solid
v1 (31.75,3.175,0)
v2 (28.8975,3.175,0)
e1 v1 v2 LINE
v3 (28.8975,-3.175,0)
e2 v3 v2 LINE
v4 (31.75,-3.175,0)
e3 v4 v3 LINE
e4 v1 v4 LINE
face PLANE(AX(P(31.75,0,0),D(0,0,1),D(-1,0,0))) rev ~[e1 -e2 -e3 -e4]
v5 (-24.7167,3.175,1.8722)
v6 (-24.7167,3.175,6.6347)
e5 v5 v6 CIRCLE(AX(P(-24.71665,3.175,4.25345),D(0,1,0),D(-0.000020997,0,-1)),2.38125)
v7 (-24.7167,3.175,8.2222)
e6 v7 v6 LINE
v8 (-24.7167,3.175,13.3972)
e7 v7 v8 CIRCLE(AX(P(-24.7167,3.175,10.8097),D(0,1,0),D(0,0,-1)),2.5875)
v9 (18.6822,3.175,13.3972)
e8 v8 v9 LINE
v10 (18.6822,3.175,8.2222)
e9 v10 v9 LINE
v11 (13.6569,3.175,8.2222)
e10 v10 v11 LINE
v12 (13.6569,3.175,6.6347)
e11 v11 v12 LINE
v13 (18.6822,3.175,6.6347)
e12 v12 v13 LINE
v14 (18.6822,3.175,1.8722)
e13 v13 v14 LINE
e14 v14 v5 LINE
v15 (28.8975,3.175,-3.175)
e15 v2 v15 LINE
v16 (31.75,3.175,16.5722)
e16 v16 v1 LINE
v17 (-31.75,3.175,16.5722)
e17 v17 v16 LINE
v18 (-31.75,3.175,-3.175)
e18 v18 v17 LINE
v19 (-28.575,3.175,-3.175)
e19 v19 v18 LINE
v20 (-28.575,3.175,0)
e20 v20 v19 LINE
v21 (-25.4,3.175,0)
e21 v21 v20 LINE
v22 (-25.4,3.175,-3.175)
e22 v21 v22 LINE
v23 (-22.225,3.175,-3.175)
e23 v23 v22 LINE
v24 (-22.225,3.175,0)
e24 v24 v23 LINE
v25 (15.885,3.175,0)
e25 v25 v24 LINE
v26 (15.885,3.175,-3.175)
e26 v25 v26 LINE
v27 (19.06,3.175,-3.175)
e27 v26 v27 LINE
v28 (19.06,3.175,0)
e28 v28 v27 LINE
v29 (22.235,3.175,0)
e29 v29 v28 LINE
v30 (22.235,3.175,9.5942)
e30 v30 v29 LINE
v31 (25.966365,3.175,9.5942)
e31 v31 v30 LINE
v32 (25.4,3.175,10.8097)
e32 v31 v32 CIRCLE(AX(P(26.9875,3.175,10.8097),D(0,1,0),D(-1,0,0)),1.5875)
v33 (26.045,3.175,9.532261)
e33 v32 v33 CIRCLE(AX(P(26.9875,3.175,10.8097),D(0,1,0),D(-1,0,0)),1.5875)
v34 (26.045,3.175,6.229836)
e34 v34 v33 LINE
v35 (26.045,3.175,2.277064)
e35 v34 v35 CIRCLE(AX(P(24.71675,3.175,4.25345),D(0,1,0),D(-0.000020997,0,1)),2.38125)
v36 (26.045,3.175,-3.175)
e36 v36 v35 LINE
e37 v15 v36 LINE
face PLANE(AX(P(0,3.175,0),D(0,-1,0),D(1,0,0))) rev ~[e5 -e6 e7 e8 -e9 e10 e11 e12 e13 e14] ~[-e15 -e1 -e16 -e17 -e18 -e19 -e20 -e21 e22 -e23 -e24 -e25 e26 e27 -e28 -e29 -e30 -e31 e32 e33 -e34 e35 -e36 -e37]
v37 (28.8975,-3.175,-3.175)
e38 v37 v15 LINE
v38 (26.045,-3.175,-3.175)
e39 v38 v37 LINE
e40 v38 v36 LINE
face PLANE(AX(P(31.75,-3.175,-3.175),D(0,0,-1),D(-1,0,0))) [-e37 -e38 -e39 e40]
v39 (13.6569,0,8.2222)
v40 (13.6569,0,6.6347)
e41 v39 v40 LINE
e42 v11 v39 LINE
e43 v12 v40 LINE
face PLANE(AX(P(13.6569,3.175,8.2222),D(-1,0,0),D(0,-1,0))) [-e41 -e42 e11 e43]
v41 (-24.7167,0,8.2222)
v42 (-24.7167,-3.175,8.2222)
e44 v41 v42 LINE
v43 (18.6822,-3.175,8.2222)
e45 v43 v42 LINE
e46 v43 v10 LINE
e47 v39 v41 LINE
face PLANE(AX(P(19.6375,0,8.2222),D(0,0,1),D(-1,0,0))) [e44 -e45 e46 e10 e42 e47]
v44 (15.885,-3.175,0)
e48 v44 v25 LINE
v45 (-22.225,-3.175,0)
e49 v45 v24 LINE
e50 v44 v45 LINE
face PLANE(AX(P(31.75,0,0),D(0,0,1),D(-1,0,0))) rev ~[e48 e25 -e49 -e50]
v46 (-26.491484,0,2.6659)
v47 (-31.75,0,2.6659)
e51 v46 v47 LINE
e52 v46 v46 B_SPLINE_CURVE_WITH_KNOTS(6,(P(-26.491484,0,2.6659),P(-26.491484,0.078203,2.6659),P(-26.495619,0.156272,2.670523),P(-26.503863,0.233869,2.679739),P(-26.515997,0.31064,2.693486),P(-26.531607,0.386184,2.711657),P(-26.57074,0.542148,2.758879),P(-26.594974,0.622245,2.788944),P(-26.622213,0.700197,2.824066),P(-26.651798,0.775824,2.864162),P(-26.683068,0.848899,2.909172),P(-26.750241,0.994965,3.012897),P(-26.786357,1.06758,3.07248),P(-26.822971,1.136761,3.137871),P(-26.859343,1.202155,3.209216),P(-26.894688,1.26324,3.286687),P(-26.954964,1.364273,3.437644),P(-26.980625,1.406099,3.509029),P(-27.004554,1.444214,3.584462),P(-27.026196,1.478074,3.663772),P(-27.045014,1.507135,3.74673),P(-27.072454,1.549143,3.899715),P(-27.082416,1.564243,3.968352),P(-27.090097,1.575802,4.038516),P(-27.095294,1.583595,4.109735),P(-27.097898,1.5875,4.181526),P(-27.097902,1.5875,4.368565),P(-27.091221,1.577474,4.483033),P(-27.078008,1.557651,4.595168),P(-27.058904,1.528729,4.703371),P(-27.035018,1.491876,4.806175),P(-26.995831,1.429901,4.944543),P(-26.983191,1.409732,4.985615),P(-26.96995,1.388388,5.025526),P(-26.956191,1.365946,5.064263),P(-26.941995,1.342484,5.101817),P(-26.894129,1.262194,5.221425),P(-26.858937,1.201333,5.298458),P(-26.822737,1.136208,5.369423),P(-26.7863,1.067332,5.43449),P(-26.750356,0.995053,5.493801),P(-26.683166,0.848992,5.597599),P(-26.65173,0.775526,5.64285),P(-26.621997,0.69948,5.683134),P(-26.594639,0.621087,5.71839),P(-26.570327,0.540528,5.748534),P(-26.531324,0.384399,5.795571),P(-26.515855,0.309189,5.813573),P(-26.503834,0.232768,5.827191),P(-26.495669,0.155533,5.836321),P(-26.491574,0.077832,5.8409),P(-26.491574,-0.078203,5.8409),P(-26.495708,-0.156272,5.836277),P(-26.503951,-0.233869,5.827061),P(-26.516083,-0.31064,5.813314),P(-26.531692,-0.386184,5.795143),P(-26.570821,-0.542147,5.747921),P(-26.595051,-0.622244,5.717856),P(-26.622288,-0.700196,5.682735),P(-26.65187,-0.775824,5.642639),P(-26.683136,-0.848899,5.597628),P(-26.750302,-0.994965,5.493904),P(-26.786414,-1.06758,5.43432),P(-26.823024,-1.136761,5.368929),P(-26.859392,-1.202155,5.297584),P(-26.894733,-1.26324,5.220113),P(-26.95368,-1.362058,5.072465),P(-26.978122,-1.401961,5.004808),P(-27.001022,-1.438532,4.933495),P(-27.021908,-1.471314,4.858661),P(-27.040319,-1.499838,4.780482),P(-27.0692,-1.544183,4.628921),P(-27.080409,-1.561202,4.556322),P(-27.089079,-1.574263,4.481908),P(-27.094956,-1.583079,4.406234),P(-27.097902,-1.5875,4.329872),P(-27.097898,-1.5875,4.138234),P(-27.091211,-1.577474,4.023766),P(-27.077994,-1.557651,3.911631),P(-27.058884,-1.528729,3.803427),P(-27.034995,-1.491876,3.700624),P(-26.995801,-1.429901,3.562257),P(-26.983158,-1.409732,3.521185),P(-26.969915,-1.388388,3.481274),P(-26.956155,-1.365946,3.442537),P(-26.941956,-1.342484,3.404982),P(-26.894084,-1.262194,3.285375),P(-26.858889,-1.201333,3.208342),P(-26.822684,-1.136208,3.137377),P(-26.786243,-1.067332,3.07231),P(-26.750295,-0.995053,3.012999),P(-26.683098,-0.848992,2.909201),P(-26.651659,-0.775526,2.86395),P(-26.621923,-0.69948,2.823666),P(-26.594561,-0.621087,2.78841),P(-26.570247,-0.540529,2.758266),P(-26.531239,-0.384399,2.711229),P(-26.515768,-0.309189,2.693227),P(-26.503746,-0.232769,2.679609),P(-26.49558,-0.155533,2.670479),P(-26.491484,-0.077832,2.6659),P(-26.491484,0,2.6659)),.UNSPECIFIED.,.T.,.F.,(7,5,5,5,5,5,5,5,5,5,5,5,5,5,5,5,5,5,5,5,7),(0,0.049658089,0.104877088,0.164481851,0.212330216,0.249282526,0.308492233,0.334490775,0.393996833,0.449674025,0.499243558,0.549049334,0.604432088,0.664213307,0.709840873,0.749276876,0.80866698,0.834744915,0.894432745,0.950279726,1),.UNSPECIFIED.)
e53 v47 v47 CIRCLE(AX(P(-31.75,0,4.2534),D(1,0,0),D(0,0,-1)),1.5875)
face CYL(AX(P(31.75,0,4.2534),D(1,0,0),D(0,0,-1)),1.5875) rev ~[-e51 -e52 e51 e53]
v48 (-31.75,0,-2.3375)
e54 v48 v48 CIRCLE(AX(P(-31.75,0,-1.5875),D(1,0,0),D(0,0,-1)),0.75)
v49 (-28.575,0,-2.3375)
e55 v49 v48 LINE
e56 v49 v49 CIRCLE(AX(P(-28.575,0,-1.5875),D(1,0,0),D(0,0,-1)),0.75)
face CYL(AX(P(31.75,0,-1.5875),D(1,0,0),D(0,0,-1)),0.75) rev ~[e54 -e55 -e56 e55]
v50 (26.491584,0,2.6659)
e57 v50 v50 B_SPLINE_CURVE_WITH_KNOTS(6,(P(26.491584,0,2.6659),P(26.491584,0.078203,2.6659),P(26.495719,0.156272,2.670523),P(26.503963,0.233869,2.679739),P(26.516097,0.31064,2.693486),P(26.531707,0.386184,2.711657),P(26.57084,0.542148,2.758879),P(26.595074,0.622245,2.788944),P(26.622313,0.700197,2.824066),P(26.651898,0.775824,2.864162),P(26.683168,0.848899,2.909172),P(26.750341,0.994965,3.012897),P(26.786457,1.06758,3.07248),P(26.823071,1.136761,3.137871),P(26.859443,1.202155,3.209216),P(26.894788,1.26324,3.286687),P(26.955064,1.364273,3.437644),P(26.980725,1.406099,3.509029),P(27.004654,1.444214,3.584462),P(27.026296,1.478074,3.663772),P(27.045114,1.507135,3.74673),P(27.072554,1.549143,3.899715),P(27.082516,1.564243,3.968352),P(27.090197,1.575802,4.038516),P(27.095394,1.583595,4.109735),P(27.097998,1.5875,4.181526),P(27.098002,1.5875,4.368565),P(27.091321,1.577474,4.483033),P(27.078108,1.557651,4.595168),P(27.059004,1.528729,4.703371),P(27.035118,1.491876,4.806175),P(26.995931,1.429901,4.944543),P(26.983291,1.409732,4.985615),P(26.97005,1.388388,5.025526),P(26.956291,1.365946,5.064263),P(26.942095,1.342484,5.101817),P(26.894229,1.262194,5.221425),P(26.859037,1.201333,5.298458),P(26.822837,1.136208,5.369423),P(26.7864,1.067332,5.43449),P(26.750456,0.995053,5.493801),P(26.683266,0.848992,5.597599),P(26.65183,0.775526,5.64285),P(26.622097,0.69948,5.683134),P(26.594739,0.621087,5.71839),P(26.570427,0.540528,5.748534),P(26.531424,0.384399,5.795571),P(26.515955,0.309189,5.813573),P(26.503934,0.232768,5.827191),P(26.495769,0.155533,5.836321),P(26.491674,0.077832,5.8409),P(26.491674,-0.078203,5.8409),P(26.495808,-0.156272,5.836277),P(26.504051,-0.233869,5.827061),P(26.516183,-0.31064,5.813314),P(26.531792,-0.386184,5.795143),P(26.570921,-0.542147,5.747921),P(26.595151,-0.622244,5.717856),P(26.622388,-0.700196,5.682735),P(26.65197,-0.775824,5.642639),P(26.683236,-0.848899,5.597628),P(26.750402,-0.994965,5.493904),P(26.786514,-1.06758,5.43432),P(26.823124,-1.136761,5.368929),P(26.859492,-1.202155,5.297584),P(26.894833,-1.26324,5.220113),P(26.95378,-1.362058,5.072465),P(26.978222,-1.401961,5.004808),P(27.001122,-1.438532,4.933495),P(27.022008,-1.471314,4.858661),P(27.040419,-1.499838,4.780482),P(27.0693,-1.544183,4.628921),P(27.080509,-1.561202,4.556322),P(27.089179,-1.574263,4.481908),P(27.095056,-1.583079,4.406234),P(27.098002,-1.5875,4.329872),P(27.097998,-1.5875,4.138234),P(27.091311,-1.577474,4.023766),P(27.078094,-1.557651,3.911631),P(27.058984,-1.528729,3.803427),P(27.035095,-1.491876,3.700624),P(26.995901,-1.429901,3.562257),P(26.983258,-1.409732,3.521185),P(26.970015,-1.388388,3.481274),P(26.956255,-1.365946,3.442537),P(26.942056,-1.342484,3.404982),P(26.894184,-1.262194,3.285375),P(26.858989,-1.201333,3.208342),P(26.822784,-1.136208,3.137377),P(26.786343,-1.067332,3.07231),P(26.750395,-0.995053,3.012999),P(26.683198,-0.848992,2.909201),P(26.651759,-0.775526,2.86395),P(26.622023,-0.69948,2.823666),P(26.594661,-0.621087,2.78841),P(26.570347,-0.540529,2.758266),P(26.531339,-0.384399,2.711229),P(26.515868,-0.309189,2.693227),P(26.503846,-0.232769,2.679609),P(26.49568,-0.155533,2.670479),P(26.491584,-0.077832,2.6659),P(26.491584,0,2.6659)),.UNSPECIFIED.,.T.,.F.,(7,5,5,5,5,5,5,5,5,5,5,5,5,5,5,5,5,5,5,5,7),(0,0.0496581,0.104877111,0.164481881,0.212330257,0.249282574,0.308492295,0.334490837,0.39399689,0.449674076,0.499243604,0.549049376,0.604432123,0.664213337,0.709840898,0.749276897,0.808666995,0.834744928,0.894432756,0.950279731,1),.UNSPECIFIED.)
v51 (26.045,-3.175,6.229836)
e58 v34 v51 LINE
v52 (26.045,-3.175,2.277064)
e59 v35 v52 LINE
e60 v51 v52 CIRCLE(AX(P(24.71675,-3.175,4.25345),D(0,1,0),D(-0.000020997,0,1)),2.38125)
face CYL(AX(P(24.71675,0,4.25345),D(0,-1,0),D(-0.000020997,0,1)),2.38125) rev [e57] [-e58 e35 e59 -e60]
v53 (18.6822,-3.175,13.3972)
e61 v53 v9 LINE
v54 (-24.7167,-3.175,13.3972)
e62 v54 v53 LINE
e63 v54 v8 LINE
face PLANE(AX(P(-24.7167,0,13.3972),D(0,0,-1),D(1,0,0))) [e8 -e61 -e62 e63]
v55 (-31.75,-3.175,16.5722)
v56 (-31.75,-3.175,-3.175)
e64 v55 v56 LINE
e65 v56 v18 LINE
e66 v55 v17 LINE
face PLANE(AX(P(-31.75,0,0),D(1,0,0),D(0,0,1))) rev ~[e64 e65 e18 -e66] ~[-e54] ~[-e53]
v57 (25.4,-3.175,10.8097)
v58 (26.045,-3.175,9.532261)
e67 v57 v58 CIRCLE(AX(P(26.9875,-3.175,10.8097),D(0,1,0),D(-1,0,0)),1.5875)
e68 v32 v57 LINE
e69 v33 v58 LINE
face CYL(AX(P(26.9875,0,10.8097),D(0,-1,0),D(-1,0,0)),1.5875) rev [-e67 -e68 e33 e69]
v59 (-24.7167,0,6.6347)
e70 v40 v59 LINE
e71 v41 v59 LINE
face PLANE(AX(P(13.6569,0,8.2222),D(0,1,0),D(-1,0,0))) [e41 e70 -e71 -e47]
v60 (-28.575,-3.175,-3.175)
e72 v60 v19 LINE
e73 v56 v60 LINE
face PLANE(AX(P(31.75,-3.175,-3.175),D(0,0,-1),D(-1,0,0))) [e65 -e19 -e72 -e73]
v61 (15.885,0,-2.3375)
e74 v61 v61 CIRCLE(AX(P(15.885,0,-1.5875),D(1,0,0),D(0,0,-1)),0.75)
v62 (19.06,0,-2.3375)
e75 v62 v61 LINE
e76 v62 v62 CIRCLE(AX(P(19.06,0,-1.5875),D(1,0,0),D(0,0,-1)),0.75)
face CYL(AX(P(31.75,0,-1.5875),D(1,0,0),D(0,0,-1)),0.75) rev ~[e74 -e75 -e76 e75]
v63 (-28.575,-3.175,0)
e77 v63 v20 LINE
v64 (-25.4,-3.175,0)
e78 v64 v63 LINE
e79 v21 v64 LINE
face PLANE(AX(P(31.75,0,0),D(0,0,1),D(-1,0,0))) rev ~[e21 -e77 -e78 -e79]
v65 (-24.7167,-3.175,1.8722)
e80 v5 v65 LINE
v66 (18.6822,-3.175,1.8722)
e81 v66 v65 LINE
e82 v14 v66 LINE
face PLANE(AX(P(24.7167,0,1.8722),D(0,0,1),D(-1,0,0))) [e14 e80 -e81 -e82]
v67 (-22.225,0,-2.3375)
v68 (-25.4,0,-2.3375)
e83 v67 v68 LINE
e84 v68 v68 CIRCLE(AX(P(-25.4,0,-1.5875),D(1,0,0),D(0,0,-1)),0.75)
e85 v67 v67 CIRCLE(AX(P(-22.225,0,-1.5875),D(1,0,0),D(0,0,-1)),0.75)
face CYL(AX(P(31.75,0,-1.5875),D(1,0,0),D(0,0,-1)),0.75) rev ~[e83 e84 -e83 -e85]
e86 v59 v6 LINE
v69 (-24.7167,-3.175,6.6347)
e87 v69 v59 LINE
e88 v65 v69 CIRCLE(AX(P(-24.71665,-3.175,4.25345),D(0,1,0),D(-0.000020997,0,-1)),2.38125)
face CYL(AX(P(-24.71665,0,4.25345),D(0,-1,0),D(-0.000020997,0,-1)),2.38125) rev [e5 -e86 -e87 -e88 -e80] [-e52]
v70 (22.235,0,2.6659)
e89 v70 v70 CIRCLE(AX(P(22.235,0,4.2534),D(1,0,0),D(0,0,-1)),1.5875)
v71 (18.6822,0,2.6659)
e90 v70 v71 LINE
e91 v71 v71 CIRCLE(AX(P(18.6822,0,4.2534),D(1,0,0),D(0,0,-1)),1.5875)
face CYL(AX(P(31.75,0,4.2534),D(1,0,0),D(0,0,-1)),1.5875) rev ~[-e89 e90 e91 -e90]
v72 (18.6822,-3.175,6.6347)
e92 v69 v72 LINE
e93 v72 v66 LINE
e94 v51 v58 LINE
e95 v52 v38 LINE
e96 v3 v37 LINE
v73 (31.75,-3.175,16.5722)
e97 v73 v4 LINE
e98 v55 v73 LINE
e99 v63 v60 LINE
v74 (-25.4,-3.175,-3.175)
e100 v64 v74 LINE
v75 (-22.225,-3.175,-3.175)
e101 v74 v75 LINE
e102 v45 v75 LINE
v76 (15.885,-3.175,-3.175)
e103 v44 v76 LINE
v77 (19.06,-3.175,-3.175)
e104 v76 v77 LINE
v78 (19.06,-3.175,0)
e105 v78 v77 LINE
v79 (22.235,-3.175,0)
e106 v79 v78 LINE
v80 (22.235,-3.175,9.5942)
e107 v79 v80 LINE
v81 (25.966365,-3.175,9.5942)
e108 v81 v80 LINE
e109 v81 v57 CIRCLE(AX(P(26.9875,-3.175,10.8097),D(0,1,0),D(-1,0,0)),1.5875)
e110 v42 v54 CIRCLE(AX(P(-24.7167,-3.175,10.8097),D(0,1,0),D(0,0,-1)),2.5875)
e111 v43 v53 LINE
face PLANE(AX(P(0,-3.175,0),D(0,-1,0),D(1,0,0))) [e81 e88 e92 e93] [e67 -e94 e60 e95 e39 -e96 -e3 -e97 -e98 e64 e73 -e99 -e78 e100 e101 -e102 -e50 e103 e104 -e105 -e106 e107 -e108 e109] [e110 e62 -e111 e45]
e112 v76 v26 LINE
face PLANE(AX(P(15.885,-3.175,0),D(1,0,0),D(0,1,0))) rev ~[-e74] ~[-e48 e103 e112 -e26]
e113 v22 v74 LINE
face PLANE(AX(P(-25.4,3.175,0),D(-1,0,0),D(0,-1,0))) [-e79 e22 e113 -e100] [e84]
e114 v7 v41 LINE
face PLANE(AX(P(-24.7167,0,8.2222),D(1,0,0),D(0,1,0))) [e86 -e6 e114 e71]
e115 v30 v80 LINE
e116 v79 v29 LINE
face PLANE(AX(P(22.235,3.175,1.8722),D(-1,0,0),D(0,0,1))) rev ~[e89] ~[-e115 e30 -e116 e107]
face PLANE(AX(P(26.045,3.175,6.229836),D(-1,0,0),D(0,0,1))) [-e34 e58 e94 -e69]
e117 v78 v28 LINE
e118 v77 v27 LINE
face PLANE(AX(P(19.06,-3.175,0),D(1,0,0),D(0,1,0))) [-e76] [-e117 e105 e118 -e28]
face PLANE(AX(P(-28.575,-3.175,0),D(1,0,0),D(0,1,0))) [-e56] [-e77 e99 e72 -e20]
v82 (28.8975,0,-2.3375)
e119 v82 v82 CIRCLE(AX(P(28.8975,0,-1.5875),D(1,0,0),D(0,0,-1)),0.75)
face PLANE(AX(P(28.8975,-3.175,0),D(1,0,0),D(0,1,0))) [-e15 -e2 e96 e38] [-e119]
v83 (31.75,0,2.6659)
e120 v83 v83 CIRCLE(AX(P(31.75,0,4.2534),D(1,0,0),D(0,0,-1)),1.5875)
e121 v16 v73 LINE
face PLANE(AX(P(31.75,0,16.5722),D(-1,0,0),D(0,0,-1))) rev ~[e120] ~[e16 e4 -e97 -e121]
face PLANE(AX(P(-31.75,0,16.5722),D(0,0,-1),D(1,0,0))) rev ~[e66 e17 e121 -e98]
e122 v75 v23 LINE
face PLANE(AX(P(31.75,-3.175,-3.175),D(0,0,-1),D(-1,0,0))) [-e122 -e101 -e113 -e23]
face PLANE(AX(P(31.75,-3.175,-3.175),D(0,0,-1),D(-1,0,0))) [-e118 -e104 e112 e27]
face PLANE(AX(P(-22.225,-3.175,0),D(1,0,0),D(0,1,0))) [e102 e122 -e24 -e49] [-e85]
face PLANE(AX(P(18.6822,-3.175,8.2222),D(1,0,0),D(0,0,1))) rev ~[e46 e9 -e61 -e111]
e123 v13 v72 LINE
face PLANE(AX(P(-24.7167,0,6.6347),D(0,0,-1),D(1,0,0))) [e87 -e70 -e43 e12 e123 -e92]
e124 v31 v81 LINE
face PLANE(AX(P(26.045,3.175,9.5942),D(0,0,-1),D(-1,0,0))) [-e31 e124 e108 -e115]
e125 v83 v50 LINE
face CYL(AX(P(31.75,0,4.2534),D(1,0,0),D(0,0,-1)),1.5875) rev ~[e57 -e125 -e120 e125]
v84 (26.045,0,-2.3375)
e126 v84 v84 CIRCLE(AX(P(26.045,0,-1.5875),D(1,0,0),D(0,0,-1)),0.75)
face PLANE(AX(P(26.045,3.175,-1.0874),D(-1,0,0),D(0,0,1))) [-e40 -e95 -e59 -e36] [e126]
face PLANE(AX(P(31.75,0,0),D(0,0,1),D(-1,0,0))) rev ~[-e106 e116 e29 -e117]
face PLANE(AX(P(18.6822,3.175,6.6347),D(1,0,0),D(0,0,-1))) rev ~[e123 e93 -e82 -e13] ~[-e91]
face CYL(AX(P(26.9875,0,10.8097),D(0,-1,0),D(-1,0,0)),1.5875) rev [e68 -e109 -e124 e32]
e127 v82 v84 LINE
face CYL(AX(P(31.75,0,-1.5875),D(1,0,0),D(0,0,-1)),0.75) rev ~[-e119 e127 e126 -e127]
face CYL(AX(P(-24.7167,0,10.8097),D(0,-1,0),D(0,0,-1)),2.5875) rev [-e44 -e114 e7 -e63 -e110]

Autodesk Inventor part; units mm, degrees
ref_plane "YZ Plane" through (0, 0, 0) normal (1, 0, 0) x (0, 1, 0)
ref_plane "XZ Plane" through (0, 0, 0) normal (0, 1, 0) x (-1, 0, 0)
ref_plane "XY Plane" through (0, 0, 0) normal (0, 0, 1) x (1, 0, 0)
sketch "Sketch1" plane through (0, 0, 0) normal (0, 1, 0) x (-1, 0, 0)
  line L0 (31.75, -3.048) -> (-31.75, -3.048)
  line L1 (-31.75, -3.048) -> (-31.75, 0)
  line L2 (-31.75, 0) -> (31.75, 0)
  line L3 (31.75, 0) -> (31.75, -3.048)
  line L4 (-31.75, 0) -> (31.75, 0)
  line L5 (31.75, 0) -> (31.75, 16.5722)
  line L6 (31.75, 16.5722) -> (-31.75, 16.5722)
  line L7 (-31.75, 16.5722) -> (-31.75, 0)
  line L8 (24.7167, 10.8097) -> (-19.6375, 10.8097) construction
  line L9 (24.7167, 13.3972) -> (-19.6375, 13.3972)
  line L10 (-19.6375, 8.2222) -> (24.7167, 8.2222)
  arc A0 (24.7167, 8.2222) -> (24.7167, 13.3972) centre (24.7167, 10.8097) ccw
  arc A1 (-19.6375, 13.3972) -> (-19.6375, 8.2222) centre (-19.6375, 10.8097) ccw
  line L11 (24.7167, 4.2534) -> (-24.7167, 4.2534) construction
  line L12 (24.7167, 6.6347) -> (-24.7167, 6.6347)
  line L13 (-24.7167, 1.8722) -> (24.7167, 1.8722)
  arc A2 (24.7167, 1.8722) -> (24.7167, 6.6347) centre (24.7167, 4.2534) ccw
  arc A3 (-24.7167, 6.6347) -> (-24.7167, 1.8722) centre (-24.7167, 4.2534) ccw
  line L14 (0, 0) -> (0, 22.7513) construction
  circle A4 centre (-26.9875, 10.8097) radius 1.5875
  point P0 (0, 4.2534)
  dimension "d5" = 49.4334
  dimension "d6" = 5.175
  dimension "d7" = 4.7625
  dimension "d8" = 4.2534
  dimension "d23" = 7.0333
  dimension "d24" = 3.175
  dimension "d25" = 3.175
  dimension "d26" = 3.175
  dimension "d27" = 1.5875
  dimension "d28" = 3.175
extrude "Extrusion1" add sketch "Sketch1" along normal mid plane 6.35 contours L2 L7 L6 L5
sketch "Sketch3" plane through (0, 3.175, 0) normal (0, 1, 0) x (1, 0, 0)
  arc A0 (24.7167, -6.6347) -> (24.7167, -1.8722) centre (24.7167, -4.2534) ccw projected
  line L0 (24.7167, -4.2534) -> (4.7773, -4.2534) construction
  line L1 (26.045, -9.5942) -> (22.235, -9.5942)
  line L2 (22.235, -9.5942) -> (22.235, 1.0874)
  line L3 (22.235, 1.0874) -> (26.045, 1.0874)
  line L4 (26.045, 1.0874) -> (26.045, -9.5942)
  line L5 (26.045, -9.5942) -> (22.235, 1.0874) construction
  line L6 (22.235, -9.5942) -> (26.045, 1.0874) construction
  point P0 (0, 0)
  point P1 (24.14, -4.2534)
  dimension "d14" = 10.6816
  dimension "d15" = 3.81
extrude "Extrusion3" cut sketch "Sketch3" against normal through all contours L4 L1 L2 L3
sketch "Sketch4" plane through (0, 3.175, 0) normal (0, 1, 0) x (1, 0, 0)
  line L0 (22.235, -6.6347) -> (-24.7167, -6.6347) projected
  line L1 (22.235, -1.8722) -> (-24.7167, -1.8722) projected
  line L2 (22.235, -6.6347) -> (18.6822, -6.6347)
  line L3 (18.6822, -6.6347) -> (18.6822, -1.8722)
  line L4 (18.6822, -1.8722) -> (22.235, -1.8722)
  line L5 (22.235, -1.8722) -> (22.235, -6.6347)
  point P0 (0, 0)
  point P1 (22.235, -1.8722)
  point P2 (18.6822, -6.6347)
extrude "Extrusion4" add sketch "Sketch4" against normal up to surface (6.35 mm away)
sketch "Sketch2" plane through (31.75, -3.175, 0) normal (1, 0, 0) x (0, 0, -1)
  line L0 (0, 3.175) -> (-16.5722, 3.175) construction
  line L1 (-16.5722, 6.35) -> (-16.5722, 0) construction
  line L2 (-6.6347, 0) -> (-6.6347, 6.35) construction
  line L3 (-1.8722, 6.35) -> (-1.8722, 0) construction
  circle A0 centre (-4.2534, 3.175) radius 1.5875
  line L4 (-6.6347, 0) -> (-6.6347, 6.35) construction
  line L5 (-6.6347, -1.3931) -> (-4.2534, -1.3931) construction
  line L6 (-1.8722, 0) -> (-1.8722, 6.35) construction
  line L7 (-1.8722, -1.3931) -> (-4.2534, -1.3931) construction
  line L8 (-4.2534, -1.3931) -> (-4.2534, 6.8506) construction
  line L9 (-6.6347, 6.35) -> (-6.6347, 0) projected
  line L10 (-1.8722, 0) -> (-1.8722, 6.35) projected
  point P0 (-7.4284, 6.35)
  point P1 (-7.4284, 0)
  dimension "d9" = 3.175
extrude "Extrusion2" cut sketch "Sketch2" against normal through all
sketch "Sketch5" plane through (-24.7167, 3.175, 8.2222) normal (0, 0, 1) x (1, 0, 0)
  line L0 (24.7167, -3.175) -> (0, -3.175) construction
  line L1 (0, -6.35) -> (0, 0) construction
  line L2 (38.3736, -3.175) -> (0, -3.175)
  line L3 (0, -3.175) -> (0, 0)
  line L4 (0, 0) -> (38.3736, 0)
  line L5 (38.3736, 0) -> (38.3736, -3.175)
  line L6 (38.3736, -3.175) -> (0, 0) construction
  line L7 (0, -3.175) -> (38.3736, 0) construction
  line L8 (0, -6.35) -> (43.3989, -6.35) projected
  line L9 (43.3989, 0) -> (0, 0) projected
  point P0 (0, -3.175)
  dimension "d18" = 3.175
  dimension "d44" = 38.3736
extrude "Extrusion5" cut sketch "Sketch5" against normal up to next
sketch "Sketch6" plane through (31.75, -3.175, 0) normal (0, 0, -1) x (-1, 0, 0)
  line L0 (0, 7.366) -> (0, -4.826) projected
  line L1 (0, 6.35) -> (5.705, 6.35) projected
  line L2 (5.705, 0) -> (5.705, 6.35) projected
  line L3 (5.705, 0) -> (0, 0) projected
  line L4 (9.515, 6.35) -> (9.515, 0) projected
  line L5 (63.5, 0) -> (9.515, 0) projected
  line L6 (9.515, 0) -> (15.865, 0)
  line L7 (15.865, 0) -> (15.865, 6.35)
  line L8 (15.865, 6.35) -> (9.515, 6.35)
  line L9 (9.515, 6.35) -> (9.515, 0)
  line L10 (2.8525, 0) -> (2.8525, 6.35)
  line L11 (12.69, 0) -> (12.69, 6.35)
  line L12 (9.515, 6.35) -> (63.5, 6.35) projected
  line L13 (63.5, 0) -> (63.5, 6.35) projected
  line L14 (63.5, 0) -> (60.325, 0)
  line L15 (60.325, 0) -> (60.325, 6.35)
  line L16 (60.325, 6.35) -> (63.5, 6.35)
  line L17 (63.5, 6.35) -> (63.5, 0)
  line L18 (57.15, 0) -> (53.975, 0)
  line L19 (53.975, 0) -> (53.975, 6.35)
  line L20 (53.975, 6.35) -> (57.15, 6.35)
  line L21 (57.15, 6.35) -> (57.15, 0)
  point P0 (31.75, 3.175)
  point P1 (15.865, 0)
  point P2 (12.69, 0)
  dimension "d37" = 3.175
  dimension "d38" = 3.175
  dimension "d39" = 3.175
  dimension "d40" = 3.175
  dimension "d41" = 3.175
extrude "Extrusion6" add sketch "Sketch6" along normal blind 3.175 contours L1 L2 L3 L10 | L8 L7 L5 L11 | L12 L21 L5 L19 | L12 L13 L5 L15
sketch "Sketch7" plane through (31.75, -3.175, 16.5722) normal (1, 0, 0) x (0, 0, -1)
  circle A0 centre (18.1597, 3.175) radius 0.75
  line L0 (16.5722, 3.175) -> (19.7472, 3.175)
  line L1 (16.5722, 0) -> (0, 0) projected
  line L2 (0, 6.35) -> (16.5722, 6.35) projected
  line L3 (19.7472, 6.35) -> (19.7472, 0) projected
  dimension "d32" = 1.5
  dimension "d33" = 1.5875
extrude "Extrusion7" cut sketch "Sketch7" against normal through all
sketch "Sketch8" plane through (0, -3.175, 0) normal (0, -1, 0) x (1, 0, 0)
  line L0 (22.235, 0) -> (22.235, 9.5942) projected
  line L1 (22.235, 9.5942) -> (25.9663, 9.5942) projected
  arc A0 (26.045, 9.5323) -> (25.9663, 9.5942) centre (26.9875, 10.8097) ccw projected
  line L2 (26.045, 9.5323) -> (26.045, 6.2298) projected
  arc A1 (26.045, 2.277) -> (26.045, 6.2298) centre (24.7167, 4.2534) ccw projected
  line L3 (26.045, 2.277) -> (26.045, -3.175) projected
  line L4 (28.8975, -3.175) -> (26.045, -3.175) projected
  line L5 (28.8975, 0) -> (28.8975, -3.175) projected
  line L6 (28.8975, 0) -> (31.75, 0) projected
  line L7 (31.75, 0) -> (31.75, 16.5722) projected
  line L8 (31.75, 16.5722) -> (-31.75, 16.5722) projected
  line L9 (-31.75, 16.5722) -> (-31.75, -3.175) projected
  line L10 (-28.575, -3.175) -> (-31.75, -3.175) projected
  line L11 (-28.575, 0) -> (-28.575, -3.175) projected
  line L12 (-28.575, 0) -> (-25.4, 0) projected
  line L13 (-25.4, 0) -> (-25.4, -3.175) projected
  line L14 (-22.225, -3.175) -> (-25.4, -3.175) projected
  line L15 (-22.225, 0) -> (-22.225, -3.175) projected
  line L16 (-22.225, 0) -> (15.885, 0) projected
  line L17 (15.885, 0) -> (15.885, -3.175) projected
  line L18 (19.06, -3.175) -> (15.885, -3.175) projected
  line L19 (19.06, 0) -> (19.06, -3.175) projected
  line L20 (19.06, 0) -> (22.235, 0) projected
  line L21 (-24.7167, 13.3972) -> (19.6375, 13.3972) projected
  arc A2 (19.6375, 8.2222) -> (19.6375, 13.3972) centre (19.6375, 10.8097) ccw projected
  line L22 (19.6375, 8.2222) -> (-24.7167, 8.2222) projected
  arc A3 (-24.7167, 13.3972) -> (-24.7167, 8.2222) centre (-24.7167, 10.8097) ccw projected
  line L23 (18.6822, 6.6347) -> (18.6822, 1.8722) projected
  line L24 (18.6822, 1.8722) -> (-24.7167, 1.8722) projected
  arc A4 (-24.7167, 6.6347) -> (-24.7167, 1.8722) centre (-24.7167, 4.2534) ccw projected
  line L25 (-24.7167, 6.6347) -> (18.6822, 6.6347) projected
  line L26 (19.6375, 8.2222) -> (-24.7167, 8.2222) projected
  line L27 (18.6822, 8.2222) -> (18.6822, 13.3972)
  point P0 (0, 0)
extrude "Extrusion8" add sketch "Sketch8" against normal blind 6.35 contours L21 A2 L22 L27
properties part number "_3DPrint"
